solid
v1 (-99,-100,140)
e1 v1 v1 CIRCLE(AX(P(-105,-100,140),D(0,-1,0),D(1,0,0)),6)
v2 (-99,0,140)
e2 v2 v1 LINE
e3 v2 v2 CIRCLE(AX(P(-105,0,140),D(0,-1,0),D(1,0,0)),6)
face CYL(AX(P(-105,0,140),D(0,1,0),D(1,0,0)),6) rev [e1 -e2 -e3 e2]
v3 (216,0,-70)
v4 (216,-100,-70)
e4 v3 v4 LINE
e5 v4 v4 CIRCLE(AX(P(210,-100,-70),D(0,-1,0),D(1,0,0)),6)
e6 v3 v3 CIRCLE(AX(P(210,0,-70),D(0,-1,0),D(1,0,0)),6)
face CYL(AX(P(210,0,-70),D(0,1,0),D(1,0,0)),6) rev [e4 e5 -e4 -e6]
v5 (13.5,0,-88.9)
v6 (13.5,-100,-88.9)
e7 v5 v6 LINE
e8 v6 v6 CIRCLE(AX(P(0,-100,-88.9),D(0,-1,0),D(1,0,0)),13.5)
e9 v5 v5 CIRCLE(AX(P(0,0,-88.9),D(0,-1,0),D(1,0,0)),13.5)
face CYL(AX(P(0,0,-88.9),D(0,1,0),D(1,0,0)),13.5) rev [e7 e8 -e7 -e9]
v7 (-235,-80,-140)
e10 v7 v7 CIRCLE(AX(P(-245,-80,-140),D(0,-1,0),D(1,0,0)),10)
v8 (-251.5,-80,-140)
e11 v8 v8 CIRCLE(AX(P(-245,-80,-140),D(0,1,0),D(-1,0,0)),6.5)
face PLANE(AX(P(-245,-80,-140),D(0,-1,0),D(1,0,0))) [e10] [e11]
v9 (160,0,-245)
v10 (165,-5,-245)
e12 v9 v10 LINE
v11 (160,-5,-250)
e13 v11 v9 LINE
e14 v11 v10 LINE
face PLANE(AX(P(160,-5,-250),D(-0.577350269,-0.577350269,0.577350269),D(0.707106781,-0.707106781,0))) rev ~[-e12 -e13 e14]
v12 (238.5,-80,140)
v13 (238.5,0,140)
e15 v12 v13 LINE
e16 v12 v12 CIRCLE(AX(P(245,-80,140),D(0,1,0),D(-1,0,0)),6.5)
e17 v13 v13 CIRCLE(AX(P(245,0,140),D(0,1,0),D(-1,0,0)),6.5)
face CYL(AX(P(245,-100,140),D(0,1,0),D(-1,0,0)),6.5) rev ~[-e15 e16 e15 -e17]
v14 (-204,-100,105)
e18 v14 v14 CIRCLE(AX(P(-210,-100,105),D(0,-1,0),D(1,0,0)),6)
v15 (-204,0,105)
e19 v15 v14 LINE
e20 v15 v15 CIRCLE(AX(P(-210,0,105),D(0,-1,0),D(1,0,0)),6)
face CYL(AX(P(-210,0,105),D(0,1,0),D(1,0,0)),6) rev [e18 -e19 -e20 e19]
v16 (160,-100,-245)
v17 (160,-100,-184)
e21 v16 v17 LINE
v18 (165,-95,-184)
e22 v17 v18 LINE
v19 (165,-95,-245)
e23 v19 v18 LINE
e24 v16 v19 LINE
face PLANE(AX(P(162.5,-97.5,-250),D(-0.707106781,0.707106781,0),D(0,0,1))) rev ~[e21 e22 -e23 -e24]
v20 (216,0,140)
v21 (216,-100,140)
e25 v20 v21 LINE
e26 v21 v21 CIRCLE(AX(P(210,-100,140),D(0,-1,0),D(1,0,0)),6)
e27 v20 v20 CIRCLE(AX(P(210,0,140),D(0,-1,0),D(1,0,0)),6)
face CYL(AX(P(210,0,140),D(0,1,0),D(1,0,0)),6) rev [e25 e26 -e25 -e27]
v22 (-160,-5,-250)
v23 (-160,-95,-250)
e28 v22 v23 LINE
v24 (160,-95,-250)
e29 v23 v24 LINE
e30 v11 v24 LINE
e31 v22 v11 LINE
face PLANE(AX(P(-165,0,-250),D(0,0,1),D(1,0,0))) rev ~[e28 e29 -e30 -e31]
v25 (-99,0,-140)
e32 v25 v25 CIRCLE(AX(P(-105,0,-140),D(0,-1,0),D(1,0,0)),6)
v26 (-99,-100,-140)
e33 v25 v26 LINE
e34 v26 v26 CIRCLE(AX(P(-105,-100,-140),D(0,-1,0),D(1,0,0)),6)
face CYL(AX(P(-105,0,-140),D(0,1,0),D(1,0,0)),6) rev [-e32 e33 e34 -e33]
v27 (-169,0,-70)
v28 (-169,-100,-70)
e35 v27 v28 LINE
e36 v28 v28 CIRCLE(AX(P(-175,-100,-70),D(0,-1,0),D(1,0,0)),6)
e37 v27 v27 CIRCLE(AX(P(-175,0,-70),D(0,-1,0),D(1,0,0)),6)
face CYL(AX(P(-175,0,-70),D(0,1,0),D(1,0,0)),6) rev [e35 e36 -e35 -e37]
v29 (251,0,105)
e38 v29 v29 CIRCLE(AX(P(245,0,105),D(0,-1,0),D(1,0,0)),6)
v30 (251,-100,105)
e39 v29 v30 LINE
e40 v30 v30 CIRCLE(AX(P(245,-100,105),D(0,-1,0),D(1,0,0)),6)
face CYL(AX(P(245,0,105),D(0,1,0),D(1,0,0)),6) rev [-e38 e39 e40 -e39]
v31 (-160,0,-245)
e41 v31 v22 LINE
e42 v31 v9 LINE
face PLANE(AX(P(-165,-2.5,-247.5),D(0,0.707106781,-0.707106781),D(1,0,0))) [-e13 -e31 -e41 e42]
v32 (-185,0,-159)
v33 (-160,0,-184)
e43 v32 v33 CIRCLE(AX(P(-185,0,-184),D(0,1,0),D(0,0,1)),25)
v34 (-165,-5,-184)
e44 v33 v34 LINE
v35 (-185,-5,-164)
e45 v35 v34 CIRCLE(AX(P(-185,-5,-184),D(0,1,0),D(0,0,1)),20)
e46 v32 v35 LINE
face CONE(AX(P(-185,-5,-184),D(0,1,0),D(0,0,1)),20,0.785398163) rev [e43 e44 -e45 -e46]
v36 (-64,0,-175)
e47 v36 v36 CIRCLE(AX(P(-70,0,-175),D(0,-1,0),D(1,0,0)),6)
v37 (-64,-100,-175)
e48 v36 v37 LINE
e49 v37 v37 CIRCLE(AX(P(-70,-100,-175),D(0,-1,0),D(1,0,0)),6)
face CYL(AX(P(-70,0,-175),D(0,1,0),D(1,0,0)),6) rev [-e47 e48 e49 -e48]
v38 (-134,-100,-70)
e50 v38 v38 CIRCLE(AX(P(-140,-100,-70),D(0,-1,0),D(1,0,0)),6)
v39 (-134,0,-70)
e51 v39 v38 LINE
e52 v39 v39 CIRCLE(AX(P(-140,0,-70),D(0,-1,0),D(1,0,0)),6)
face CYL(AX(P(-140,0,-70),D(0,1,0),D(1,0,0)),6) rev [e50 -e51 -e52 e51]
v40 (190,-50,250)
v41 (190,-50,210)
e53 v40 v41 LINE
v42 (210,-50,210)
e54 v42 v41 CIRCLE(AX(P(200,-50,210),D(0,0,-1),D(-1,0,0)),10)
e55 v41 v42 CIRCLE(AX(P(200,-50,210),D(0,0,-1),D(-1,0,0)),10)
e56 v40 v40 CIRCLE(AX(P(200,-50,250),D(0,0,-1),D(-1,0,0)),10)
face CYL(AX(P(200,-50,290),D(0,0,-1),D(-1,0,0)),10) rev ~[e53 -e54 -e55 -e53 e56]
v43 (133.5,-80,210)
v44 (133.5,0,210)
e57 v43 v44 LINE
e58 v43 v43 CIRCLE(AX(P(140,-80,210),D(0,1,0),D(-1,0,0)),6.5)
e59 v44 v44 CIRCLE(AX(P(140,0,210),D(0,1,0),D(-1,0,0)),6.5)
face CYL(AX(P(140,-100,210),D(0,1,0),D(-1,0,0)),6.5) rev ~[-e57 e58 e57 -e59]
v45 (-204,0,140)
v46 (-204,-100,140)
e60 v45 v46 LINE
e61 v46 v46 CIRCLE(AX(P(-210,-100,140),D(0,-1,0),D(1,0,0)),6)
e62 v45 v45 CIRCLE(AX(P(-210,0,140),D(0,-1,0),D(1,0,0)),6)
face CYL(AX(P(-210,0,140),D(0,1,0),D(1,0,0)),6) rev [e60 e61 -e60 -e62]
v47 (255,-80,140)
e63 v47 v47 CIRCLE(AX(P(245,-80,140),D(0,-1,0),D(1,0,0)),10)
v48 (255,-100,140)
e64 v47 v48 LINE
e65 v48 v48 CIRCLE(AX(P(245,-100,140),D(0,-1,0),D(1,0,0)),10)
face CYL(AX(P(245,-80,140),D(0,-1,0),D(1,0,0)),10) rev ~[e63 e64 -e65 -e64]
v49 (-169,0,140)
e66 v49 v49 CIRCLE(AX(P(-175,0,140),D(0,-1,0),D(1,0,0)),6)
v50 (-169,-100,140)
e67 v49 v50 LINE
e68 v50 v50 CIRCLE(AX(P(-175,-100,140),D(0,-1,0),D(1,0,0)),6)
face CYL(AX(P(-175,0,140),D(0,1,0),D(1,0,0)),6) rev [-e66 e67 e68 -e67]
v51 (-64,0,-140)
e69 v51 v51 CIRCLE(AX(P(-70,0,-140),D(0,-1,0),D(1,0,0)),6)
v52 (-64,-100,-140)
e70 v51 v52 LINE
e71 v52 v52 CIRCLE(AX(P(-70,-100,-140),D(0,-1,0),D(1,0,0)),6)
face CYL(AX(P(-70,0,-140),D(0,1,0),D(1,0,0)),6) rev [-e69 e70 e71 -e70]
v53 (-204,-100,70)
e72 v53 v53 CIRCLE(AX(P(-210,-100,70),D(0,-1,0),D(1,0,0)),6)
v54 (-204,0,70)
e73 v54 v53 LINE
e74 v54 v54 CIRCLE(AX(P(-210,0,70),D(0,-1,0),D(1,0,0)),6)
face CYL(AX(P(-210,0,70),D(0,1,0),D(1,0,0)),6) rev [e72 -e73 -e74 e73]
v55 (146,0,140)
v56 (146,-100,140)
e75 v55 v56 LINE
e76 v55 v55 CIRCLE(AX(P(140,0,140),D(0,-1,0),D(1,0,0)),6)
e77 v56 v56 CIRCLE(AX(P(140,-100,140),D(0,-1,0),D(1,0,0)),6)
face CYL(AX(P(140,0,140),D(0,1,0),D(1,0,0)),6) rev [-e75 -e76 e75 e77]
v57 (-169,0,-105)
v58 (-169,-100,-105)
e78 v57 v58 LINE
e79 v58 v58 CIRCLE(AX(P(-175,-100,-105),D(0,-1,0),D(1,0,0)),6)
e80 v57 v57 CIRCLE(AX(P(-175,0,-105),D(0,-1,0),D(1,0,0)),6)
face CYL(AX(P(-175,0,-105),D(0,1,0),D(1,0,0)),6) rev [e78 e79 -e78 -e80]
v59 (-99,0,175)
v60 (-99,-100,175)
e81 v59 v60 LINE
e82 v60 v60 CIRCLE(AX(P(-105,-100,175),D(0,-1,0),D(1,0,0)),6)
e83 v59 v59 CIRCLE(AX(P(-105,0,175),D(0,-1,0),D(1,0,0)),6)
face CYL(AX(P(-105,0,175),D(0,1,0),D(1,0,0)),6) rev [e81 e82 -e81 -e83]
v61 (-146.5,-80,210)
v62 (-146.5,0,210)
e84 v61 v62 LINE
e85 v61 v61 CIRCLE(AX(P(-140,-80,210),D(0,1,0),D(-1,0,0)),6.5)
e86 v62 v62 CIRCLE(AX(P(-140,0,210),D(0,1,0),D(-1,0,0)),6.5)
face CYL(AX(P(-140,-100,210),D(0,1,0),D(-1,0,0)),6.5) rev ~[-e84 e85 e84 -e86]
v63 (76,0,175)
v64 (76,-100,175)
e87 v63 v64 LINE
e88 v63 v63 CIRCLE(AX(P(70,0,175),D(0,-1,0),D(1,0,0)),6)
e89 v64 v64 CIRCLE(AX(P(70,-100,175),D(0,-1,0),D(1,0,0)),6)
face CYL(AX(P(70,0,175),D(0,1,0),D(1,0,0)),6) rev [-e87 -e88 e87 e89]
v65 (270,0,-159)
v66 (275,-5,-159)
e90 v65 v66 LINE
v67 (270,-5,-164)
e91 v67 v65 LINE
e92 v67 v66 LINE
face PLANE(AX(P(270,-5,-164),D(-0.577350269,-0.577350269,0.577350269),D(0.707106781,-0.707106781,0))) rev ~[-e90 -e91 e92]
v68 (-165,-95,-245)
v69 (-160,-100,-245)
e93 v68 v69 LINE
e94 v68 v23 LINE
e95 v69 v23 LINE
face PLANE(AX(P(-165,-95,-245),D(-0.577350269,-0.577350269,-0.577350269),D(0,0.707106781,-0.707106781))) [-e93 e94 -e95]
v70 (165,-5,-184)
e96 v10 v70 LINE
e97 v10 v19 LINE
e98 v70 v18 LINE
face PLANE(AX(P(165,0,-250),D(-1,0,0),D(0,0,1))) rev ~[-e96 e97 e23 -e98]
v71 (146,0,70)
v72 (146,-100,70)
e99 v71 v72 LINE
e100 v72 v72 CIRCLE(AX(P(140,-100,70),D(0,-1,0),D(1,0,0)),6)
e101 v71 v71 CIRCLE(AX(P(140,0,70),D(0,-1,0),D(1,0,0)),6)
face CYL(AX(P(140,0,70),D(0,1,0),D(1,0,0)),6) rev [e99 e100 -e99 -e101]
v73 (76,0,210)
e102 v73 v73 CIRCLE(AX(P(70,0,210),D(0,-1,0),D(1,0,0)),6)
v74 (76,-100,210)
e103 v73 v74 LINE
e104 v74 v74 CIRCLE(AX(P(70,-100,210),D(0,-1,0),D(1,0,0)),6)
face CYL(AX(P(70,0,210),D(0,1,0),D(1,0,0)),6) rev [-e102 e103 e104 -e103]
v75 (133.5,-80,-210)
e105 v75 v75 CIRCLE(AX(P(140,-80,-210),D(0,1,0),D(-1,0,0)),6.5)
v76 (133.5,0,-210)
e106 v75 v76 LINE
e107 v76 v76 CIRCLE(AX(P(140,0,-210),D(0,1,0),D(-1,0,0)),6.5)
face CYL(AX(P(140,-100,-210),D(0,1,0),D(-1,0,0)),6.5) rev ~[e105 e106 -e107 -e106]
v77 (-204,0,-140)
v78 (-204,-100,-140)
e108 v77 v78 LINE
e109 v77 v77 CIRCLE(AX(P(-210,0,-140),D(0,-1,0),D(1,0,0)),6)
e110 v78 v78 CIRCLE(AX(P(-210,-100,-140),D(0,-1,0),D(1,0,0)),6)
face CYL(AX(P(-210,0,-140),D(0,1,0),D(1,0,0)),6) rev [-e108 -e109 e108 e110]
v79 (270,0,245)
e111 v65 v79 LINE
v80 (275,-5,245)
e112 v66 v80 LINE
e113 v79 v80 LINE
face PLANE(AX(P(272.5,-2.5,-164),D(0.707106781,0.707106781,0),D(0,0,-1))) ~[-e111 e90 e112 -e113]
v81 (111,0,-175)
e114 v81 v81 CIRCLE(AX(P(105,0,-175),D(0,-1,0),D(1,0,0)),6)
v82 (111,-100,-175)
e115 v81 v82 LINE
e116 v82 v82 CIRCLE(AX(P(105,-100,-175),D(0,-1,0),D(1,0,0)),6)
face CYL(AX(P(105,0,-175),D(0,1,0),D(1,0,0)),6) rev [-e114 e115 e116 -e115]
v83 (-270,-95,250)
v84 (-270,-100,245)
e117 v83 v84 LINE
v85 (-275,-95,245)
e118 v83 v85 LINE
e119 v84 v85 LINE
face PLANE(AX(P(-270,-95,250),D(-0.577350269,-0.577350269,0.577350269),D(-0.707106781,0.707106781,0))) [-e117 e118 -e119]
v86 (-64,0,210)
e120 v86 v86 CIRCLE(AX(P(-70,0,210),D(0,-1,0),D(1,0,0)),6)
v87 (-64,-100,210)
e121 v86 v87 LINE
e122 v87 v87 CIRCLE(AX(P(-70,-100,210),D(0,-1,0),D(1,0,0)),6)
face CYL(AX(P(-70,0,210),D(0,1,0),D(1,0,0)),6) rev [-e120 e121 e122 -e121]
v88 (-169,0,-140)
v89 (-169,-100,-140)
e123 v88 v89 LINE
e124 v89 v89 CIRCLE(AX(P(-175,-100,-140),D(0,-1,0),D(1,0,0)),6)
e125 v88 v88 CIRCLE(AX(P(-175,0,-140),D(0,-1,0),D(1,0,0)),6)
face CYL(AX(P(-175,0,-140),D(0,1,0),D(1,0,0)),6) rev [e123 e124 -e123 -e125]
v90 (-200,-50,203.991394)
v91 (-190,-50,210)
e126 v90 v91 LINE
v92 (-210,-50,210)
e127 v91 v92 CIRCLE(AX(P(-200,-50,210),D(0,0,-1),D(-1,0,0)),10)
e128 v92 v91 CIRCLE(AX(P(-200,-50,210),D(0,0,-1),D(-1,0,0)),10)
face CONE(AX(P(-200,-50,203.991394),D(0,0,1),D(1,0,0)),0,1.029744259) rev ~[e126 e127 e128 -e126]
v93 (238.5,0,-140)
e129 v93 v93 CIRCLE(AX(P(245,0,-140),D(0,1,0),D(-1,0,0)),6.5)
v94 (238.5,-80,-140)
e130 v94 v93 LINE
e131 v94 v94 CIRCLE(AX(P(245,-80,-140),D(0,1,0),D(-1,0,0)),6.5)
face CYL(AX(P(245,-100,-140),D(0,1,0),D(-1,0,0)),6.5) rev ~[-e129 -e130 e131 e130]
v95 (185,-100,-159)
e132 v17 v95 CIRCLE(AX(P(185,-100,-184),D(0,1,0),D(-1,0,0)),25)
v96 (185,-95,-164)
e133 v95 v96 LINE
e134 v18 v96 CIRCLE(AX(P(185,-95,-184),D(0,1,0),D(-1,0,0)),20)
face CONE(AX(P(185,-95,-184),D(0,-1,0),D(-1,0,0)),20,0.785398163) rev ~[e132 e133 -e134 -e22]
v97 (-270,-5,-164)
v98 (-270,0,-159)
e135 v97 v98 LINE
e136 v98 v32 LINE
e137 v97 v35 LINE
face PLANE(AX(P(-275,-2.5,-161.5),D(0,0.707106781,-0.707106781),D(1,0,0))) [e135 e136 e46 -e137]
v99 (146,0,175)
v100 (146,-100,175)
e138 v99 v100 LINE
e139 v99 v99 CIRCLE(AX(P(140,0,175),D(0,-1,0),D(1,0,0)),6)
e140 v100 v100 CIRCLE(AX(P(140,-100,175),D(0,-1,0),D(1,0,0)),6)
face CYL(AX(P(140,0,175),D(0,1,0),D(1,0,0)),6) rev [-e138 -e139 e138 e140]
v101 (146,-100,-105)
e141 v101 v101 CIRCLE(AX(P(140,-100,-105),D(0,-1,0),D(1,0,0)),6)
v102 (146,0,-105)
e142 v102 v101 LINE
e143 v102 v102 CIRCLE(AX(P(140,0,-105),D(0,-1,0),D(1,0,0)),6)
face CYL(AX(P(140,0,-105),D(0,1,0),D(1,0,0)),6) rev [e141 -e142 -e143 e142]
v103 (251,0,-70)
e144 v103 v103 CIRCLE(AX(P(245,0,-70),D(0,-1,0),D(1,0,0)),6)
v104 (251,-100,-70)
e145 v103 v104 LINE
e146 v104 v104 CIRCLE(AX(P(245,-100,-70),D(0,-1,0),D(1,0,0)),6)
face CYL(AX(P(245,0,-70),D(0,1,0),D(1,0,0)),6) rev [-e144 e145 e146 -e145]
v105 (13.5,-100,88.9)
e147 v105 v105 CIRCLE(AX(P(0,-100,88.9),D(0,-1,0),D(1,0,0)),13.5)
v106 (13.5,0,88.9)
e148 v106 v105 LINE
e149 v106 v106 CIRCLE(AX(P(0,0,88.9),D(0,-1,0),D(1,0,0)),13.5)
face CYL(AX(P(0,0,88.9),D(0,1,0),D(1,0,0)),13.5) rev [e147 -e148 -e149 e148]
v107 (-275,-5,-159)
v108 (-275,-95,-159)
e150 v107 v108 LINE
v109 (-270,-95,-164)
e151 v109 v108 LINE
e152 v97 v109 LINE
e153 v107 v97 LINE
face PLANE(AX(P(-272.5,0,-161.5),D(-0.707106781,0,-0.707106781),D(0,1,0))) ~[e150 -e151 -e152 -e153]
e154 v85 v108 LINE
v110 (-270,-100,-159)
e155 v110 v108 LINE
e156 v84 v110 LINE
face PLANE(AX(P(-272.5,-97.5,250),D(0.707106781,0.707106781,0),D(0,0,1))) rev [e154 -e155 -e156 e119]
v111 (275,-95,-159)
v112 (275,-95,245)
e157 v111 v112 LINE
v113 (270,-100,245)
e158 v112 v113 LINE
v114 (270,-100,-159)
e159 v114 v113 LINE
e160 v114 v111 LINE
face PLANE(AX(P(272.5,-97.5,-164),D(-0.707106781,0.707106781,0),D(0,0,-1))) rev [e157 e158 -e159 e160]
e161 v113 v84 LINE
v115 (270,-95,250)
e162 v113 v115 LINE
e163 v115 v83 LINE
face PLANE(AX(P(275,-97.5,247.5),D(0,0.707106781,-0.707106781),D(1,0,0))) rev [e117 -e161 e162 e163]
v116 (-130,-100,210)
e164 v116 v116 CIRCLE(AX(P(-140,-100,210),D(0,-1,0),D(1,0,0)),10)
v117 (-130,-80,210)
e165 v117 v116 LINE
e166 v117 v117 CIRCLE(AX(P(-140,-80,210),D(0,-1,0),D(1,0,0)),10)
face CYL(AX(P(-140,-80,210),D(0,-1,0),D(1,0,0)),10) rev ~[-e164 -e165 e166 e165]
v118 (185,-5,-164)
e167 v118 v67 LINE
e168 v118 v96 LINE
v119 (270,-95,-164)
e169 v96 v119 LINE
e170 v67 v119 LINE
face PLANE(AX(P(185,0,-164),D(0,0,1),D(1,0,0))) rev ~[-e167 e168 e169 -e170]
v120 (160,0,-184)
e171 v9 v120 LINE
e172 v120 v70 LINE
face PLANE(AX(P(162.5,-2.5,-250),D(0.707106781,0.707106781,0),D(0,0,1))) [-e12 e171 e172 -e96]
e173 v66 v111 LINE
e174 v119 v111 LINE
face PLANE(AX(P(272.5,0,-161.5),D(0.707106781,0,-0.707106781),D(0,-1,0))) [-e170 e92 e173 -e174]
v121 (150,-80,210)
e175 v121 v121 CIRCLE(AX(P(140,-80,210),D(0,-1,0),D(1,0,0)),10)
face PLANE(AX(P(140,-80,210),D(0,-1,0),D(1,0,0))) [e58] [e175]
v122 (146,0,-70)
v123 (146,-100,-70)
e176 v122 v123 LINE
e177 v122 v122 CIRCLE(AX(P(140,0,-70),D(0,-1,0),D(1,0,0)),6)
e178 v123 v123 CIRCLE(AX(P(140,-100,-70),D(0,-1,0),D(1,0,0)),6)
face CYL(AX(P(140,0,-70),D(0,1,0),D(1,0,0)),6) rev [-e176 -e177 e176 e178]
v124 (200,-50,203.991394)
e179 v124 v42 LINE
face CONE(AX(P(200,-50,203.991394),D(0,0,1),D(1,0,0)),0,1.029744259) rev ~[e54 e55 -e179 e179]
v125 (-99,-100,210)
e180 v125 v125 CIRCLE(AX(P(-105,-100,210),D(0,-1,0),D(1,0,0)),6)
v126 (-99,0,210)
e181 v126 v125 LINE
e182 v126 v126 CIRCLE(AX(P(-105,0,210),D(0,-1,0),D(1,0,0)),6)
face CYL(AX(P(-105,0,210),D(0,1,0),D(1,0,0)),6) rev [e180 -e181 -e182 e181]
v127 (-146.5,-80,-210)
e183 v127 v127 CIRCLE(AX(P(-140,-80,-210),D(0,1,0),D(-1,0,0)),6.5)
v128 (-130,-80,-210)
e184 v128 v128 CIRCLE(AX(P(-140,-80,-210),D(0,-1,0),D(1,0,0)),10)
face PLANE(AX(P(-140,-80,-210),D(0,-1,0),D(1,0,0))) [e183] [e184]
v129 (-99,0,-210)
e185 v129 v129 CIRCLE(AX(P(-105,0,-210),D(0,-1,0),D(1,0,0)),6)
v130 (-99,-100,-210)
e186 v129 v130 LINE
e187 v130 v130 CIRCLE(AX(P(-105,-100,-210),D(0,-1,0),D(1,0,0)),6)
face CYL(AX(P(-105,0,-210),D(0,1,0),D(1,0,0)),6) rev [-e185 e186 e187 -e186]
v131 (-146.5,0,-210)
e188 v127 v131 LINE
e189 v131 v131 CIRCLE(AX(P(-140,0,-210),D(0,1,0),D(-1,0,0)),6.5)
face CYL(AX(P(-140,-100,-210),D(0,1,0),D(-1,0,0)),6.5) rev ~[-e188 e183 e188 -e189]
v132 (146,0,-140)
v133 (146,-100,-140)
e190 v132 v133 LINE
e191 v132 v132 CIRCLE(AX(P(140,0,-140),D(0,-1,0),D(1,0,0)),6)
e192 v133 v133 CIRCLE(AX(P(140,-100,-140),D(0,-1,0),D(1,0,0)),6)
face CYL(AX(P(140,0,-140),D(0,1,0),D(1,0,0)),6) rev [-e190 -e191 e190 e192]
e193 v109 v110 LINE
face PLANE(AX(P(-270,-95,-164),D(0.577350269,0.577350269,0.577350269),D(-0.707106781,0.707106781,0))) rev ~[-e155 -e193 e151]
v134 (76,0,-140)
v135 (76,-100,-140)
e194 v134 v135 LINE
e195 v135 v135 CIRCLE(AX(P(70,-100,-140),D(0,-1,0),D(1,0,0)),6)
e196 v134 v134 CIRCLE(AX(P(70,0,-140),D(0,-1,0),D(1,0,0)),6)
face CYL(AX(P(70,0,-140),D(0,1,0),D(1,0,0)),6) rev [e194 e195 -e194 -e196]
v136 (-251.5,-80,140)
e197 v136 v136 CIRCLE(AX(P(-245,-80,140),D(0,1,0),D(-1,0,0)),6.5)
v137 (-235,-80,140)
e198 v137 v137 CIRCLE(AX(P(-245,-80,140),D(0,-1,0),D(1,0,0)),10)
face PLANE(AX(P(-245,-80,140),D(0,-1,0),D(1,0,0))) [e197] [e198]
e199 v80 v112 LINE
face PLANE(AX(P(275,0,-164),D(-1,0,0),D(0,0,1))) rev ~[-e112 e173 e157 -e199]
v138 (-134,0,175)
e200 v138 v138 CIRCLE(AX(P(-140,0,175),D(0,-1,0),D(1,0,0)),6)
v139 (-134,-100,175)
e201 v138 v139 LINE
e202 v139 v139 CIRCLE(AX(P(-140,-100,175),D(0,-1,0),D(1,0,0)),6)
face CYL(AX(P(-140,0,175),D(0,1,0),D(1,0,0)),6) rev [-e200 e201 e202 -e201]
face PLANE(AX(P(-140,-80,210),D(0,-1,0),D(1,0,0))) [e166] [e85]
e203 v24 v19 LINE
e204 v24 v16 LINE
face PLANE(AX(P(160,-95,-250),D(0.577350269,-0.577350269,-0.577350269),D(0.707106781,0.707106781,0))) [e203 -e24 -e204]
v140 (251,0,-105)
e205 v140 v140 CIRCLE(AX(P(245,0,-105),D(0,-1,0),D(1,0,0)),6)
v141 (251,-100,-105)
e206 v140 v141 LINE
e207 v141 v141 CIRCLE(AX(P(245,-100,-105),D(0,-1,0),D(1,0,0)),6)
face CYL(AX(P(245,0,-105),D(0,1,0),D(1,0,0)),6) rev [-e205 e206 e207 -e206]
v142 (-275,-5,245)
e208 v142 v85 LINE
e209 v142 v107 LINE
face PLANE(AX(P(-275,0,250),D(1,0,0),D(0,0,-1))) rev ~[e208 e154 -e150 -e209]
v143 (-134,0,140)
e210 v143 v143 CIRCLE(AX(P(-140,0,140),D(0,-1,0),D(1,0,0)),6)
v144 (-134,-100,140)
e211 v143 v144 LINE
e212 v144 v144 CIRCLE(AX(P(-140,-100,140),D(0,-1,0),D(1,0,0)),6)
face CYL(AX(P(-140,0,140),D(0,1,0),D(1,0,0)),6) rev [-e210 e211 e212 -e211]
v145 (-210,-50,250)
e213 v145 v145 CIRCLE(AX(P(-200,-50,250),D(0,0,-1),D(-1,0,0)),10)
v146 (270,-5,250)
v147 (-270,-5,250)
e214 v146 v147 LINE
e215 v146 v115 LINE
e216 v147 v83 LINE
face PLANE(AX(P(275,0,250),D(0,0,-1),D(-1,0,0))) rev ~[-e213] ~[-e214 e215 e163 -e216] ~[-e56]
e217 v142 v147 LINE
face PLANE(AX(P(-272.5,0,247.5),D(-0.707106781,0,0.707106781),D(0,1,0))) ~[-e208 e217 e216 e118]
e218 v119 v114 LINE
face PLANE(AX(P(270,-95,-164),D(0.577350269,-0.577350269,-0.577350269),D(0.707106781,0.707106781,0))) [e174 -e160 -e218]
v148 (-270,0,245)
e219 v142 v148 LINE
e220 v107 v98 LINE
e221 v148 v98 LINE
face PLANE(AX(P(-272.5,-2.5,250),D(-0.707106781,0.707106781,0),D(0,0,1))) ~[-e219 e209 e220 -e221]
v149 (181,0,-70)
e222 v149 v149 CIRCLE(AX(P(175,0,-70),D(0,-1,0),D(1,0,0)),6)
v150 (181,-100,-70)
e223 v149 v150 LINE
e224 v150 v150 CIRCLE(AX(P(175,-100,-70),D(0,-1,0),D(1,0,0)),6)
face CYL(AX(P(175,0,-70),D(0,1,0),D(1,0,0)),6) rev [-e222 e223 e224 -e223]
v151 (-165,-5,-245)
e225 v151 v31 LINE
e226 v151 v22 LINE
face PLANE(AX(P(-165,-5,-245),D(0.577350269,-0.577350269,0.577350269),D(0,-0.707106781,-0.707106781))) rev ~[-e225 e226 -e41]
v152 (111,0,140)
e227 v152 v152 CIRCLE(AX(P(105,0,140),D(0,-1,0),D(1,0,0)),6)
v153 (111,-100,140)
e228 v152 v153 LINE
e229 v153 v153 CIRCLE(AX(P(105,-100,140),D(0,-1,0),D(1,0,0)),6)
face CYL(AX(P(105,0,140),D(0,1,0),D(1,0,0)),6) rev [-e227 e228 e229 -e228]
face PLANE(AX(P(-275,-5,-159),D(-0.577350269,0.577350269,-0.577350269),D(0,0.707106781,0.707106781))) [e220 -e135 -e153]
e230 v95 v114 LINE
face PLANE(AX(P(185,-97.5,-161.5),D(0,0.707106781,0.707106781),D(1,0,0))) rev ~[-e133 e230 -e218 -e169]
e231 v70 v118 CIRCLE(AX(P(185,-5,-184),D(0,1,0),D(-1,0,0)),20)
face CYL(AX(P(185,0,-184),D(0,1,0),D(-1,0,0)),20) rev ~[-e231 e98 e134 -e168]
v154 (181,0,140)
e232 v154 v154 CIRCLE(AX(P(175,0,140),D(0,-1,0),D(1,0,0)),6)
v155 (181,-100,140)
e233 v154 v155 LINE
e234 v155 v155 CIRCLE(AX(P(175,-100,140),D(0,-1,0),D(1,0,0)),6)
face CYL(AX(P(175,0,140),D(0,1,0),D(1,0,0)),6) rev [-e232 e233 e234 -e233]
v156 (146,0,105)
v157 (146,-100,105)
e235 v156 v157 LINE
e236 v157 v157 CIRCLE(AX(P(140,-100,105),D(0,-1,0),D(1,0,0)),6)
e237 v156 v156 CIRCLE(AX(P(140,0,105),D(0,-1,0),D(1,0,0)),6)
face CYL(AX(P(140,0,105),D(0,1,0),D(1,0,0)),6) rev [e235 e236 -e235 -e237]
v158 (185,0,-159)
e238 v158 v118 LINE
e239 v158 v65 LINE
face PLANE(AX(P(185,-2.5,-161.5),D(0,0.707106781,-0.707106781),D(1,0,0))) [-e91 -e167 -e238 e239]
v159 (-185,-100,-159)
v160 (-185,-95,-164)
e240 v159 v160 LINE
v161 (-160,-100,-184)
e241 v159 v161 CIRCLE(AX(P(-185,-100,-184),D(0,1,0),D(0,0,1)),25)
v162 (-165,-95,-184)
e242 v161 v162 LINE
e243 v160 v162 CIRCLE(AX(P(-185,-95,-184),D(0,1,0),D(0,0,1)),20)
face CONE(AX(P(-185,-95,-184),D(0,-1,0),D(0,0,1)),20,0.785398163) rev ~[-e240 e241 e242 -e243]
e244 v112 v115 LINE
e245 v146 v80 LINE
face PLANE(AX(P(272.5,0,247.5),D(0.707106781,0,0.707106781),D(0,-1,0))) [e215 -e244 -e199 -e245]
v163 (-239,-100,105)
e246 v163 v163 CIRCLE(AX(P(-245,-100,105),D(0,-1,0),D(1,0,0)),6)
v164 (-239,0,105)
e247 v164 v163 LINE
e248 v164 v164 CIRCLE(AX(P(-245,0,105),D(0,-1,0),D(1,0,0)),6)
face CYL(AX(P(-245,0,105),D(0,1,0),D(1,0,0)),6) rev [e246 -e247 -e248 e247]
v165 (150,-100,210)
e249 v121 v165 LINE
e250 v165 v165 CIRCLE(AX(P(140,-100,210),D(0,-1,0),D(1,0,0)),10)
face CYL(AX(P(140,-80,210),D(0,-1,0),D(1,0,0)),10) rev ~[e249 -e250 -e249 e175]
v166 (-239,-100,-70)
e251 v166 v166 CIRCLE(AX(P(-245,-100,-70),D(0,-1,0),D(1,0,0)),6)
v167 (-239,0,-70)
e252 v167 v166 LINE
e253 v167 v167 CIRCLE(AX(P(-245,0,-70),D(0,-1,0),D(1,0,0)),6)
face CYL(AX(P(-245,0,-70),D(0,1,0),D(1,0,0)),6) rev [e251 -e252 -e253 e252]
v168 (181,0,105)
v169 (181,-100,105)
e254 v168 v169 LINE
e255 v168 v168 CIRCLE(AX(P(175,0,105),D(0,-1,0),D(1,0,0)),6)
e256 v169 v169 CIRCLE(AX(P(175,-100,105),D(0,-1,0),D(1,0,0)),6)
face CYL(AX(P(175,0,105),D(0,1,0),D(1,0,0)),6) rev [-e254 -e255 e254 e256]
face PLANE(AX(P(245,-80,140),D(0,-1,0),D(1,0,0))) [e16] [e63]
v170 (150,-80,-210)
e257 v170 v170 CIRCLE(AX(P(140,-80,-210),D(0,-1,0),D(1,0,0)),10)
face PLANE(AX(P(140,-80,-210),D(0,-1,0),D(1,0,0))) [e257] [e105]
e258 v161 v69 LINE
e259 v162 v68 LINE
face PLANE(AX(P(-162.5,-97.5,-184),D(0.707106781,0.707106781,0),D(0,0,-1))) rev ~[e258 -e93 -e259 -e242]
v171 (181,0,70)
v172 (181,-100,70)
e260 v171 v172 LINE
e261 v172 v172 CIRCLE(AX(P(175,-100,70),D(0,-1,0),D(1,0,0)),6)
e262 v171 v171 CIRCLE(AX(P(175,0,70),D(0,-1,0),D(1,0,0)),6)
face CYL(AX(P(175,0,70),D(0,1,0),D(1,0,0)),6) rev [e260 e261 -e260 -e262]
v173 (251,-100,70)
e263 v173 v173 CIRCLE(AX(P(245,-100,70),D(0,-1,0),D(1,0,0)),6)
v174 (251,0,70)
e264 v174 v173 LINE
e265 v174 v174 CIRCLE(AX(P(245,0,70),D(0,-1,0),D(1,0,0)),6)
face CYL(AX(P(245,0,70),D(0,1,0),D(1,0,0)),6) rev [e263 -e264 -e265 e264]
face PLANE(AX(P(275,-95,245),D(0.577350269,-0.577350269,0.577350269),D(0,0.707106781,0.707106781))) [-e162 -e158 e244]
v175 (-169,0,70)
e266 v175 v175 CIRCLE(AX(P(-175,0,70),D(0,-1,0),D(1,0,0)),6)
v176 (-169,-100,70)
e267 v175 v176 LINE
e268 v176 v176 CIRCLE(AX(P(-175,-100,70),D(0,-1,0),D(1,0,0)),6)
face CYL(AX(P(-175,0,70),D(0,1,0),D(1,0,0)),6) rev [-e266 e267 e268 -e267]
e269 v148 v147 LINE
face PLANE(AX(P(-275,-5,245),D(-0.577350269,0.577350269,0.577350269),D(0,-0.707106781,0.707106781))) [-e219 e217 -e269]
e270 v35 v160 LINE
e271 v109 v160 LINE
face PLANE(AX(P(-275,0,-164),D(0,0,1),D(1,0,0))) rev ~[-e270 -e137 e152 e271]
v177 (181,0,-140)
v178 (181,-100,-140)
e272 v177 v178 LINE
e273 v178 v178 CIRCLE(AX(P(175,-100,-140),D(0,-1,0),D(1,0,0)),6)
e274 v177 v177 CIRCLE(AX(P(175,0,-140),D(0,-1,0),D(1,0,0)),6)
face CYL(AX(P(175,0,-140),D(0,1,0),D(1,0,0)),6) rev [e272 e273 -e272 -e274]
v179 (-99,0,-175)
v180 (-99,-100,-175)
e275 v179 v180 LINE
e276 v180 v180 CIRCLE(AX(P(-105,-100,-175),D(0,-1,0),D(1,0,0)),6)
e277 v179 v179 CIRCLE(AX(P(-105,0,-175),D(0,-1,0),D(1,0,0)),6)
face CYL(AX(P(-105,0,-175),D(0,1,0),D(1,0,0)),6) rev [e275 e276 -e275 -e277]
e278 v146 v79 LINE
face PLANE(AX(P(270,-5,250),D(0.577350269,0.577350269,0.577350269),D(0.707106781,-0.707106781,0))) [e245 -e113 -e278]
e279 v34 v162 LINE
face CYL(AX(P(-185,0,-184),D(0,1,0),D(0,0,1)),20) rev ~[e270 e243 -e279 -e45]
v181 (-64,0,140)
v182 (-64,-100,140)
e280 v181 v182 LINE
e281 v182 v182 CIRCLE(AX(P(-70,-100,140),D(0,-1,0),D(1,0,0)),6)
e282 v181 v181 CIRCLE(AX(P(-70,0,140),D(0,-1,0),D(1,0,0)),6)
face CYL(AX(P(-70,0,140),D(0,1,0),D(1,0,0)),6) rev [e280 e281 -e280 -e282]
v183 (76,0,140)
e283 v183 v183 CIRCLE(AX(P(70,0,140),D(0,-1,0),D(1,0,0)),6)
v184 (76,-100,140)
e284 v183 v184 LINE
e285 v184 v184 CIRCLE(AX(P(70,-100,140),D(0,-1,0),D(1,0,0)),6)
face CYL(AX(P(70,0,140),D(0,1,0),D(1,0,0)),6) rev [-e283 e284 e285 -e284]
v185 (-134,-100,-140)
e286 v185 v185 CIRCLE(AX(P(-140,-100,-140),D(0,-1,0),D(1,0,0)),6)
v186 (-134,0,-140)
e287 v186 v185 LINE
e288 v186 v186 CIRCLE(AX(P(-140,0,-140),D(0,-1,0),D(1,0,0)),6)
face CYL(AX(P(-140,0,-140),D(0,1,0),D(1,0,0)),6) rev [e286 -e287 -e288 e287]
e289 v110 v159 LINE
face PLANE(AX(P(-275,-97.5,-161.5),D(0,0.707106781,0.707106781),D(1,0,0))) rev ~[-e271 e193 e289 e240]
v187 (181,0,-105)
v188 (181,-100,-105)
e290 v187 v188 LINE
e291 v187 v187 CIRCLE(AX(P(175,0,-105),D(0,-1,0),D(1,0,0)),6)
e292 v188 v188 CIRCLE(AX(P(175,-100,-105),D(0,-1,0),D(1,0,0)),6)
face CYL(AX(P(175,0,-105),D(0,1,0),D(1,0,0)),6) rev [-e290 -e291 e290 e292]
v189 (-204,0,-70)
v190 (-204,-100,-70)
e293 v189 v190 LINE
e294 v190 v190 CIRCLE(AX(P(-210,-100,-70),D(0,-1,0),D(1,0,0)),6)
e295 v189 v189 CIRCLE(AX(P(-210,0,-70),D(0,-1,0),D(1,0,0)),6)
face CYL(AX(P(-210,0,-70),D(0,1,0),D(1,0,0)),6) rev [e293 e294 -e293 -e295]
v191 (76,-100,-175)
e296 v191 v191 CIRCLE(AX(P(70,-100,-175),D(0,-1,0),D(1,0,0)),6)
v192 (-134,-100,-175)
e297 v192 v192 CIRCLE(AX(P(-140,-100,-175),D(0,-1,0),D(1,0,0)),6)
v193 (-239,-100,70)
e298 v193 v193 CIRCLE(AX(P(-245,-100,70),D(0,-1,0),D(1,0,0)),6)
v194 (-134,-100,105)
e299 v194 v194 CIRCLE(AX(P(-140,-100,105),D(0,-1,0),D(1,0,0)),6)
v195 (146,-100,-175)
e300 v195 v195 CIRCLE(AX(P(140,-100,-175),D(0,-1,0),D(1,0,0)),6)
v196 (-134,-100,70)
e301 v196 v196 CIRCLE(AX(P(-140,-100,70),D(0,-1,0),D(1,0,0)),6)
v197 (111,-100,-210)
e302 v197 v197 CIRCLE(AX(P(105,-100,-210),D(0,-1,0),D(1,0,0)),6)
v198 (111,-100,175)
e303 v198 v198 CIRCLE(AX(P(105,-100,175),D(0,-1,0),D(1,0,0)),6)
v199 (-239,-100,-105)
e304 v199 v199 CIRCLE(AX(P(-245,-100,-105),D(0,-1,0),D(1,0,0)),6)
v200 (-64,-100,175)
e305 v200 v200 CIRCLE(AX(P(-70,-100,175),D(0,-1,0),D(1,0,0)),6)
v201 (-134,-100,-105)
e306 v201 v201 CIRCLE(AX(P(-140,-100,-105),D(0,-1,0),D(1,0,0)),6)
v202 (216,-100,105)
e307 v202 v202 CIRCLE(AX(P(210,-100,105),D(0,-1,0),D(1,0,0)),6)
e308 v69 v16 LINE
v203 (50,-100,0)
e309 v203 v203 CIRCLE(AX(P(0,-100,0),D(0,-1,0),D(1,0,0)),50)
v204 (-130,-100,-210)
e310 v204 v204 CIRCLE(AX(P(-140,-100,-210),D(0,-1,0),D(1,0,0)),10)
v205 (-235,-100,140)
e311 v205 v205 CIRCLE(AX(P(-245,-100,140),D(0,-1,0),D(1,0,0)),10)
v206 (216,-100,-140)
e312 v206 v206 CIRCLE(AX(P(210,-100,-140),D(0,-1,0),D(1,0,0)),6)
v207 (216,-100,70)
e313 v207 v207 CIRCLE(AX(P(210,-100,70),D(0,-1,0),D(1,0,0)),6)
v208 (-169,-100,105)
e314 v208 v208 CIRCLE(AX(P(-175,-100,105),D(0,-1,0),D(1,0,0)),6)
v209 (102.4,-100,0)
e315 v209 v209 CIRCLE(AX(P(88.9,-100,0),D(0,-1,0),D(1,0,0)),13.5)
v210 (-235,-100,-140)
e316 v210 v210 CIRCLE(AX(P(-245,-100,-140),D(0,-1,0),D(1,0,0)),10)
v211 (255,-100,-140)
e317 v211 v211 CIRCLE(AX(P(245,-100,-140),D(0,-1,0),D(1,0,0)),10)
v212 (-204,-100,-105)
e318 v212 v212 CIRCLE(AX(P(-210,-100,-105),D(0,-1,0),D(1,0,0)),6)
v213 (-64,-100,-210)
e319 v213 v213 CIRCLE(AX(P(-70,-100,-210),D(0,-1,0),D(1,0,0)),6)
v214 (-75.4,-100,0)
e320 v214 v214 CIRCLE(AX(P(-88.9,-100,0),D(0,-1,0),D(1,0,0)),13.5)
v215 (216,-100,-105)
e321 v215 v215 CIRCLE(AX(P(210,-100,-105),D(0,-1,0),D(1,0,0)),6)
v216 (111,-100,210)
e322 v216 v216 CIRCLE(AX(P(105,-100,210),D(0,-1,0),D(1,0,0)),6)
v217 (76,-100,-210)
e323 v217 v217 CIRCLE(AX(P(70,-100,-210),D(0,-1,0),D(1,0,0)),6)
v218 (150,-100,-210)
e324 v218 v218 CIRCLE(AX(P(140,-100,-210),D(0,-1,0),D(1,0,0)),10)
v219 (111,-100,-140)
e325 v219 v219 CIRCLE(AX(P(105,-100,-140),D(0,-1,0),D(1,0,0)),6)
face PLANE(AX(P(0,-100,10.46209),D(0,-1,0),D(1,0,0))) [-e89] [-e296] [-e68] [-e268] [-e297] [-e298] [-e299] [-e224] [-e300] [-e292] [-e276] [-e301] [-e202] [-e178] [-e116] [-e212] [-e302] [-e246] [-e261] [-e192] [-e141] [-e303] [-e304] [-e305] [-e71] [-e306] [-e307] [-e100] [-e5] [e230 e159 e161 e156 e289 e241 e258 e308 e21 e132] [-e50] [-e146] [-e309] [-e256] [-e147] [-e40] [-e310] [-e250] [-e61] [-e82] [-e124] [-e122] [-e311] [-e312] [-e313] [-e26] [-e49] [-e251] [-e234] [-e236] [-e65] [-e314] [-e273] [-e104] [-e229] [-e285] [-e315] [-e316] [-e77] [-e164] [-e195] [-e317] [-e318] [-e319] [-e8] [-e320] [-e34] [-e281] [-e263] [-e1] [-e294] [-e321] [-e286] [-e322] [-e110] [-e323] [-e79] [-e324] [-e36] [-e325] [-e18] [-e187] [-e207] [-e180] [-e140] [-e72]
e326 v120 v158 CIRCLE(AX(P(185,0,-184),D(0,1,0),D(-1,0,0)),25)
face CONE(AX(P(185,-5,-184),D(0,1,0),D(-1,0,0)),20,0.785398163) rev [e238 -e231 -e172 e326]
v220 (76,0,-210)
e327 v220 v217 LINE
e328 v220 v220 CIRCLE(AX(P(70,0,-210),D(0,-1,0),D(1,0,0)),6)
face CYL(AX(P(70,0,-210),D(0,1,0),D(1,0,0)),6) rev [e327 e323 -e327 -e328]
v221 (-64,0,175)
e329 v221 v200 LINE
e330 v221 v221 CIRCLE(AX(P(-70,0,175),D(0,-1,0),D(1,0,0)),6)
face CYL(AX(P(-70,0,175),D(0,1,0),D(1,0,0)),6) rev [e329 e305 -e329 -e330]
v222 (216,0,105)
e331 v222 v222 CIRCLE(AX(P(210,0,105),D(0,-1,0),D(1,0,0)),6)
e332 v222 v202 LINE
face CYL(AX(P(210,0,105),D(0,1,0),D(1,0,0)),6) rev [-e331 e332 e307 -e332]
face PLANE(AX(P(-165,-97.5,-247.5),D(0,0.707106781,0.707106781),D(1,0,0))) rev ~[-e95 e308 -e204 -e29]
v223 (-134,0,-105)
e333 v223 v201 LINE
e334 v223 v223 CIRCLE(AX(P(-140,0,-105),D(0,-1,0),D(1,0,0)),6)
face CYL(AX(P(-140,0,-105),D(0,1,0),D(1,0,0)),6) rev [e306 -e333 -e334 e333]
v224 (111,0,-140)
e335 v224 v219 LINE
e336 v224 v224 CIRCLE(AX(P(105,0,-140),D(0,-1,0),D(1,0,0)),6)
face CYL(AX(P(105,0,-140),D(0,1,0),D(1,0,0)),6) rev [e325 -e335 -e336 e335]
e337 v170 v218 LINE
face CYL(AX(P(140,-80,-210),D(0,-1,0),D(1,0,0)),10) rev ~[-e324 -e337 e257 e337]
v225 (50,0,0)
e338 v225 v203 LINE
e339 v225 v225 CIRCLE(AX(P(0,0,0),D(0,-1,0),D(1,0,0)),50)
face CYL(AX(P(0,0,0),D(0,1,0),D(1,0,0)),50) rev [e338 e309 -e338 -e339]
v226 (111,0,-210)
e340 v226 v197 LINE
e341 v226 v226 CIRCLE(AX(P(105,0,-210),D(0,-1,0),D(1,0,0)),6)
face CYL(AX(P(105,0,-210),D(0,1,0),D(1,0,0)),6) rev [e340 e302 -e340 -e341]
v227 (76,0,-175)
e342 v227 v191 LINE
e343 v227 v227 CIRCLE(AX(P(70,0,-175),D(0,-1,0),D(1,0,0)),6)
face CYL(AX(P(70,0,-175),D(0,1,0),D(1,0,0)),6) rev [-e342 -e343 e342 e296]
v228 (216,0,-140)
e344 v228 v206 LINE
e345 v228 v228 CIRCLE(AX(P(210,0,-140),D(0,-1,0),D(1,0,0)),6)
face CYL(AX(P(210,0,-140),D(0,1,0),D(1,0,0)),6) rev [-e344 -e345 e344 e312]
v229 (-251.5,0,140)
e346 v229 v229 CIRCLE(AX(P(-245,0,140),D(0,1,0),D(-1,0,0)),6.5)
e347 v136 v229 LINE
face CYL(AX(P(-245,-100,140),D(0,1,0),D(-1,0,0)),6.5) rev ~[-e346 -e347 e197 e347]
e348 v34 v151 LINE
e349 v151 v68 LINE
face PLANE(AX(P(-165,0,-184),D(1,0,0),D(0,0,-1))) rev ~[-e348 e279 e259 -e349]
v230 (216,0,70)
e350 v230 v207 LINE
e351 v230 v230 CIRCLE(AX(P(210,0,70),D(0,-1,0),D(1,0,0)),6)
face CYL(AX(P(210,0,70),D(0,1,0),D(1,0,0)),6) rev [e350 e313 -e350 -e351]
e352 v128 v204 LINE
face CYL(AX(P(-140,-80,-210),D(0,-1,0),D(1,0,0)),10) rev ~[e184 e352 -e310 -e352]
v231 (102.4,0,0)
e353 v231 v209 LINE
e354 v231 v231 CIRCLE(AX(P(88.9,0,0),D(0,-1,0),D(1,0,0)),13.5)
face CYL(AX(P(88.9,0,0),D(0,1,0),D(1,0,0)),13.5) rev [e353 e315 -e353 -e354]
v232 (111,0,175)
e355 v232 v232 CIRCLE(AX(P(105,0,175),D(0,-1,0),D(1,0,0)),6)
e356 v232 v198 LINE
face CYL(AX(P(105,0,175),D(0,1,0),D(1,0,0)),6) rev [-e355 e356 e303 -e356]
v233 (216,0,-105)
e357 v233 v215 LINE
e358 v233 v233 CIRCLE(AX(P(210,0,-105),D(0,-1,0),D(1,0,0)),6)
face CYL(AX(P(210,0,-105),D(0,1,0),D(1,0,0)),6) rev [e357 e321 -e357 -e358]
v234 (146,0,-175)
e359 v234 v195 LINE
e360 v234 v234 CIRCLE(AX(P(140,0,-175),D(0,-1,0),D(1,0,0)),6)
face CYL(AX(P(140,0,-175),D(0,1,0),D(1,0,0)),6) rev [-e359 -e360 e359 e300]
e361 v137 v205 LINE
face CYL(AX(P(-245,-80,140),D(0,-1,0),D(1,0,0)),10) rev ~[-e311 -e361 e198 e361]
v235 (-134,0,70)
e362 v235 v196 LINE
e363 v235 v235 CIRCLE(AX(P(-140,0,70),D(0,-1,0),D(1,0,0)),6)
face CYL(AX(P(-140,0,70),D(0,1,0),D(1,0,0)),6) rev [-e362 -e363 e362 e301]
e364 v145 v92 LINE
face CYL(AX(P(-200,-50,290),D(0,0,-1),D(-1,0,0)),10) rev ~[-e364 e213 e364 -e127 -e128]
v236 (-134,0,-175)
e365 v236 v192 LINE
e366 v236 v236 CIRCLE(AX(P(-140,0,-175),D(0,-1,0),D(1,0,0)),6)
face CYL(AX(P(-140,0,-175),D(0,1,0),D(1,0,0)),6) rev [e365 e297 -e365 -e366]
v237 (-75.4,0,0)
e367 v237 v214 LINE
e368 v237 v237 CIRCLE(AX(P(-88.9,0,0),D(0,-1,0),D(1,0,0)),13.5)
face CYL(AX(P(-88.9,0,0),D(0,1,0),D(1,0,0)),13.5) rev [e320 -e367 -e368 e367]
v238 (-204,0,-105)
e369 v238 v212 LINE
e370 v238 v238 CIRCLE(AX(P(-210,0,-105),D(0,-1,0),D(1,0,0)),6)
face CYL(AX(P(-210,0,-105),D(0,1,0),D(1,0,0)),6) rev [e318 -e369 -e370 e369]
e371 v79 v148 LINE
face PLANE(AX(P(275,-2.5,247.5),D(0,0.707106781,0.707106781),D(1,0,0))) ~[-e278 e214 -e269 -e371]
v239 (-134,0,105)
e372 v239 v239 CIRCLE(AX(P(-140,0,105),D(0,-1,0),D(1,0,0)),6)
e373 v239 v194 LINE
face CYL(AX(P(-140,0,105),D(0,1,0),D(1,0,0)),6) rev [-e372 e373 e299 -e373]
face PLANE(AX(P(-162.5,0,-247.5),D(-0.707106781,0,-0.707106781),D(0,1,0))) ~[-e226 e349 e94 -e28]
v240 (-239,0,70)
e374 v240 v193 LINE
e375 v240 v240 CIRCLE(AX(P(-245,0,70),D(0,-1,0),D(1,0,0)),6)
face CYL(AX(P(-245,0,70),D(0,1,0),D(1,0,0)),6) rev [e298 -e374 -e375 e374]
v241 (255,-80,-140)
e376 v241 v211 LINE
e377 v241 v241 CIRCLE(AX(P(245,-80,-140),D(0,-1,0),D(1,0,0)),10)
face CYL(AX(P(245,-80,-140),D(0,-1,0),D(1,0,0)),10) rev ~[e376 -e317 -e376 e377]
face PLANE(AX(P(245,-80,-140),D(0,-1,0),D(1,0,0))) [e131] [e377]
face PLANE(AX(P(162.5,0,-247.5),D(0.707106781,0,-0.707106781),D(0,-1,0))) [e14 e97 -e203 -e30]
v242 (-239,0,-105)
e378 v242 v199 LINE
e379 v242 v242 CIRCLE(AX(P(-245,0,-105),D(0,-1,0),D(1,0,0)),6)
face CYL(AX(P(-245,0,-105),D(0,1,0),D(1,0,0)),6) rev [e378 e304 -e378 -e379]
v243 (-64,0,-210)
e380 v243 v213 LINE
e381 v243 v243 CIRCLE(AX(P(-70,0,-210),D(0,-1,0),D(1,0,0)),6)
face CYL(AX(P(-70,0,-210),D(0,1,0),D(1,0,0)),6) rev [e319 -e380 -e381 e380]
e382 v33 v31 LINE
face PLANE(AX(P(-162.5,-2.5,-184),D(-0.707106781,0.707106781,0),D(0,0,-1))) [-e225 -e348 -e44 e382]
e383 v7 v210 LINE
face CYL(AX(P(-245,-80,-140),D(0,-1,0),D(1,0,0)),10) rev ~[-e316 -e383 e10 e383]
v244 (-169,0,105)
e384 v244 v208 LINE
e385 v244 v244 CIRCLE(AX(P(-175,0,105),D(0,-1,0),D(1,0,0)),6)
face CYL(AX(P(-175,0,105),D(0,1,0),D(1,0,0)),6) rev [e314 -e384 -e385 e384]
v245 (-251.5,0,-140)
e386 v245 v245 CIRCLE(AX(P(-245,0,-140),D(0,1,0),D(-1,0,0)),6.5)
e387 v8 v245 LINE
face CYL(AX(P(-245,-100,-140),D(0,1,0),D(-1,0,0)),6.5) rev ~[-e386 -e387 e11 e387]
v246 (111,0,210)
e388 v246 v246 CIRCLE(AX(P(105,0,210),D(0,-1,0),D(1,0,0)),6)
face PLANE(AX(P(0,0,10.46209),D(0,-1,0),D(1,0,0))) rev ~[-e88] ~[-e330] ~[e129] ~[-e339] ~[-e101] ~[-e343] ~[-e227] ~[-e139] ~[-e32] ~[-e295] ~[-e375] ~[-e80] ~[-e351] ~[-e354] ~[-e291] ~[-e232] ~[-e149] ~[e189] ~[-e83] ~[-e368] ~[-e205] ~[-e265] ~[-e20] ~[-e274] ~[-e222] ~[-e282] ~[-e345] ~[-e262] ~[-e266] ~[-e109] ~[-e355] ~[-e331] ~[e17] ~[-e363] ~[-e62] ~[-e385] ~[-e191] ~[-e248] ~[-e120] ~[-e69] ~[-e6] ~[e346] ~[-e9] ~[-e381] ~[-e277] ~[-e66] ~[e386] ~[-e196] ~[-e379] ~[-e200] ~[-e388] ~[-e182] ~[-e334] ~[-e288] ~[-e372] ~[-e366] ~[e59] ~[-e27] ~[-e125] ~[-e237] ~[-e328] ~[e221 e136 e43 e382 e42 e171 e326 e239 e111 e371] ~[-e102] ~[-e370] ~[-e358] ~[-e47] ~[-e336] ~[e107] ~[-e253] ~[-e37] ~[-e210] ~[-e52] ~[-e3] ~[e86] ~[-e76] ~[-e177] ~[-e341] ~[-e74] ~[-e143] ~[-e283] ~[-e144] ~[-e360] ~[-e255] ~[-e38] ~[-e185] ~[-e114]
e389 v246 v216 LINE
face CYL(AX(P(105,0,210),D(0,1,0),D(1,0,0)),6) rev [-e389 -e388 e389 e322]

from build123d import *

# Parameters (mm, degrees)
F0_R           = 6
F0_R_2         = 13.5
F0_R_3         = 50
F1_DEPTH       = 100
F3_D           = 13
F3_CBORE_D     = 20
F3_CBORE_DEPTH = 20
F4_SIZE        = 5
F6_D           = 20
F6_DEPTH       = 40
F6_TIP         = 6.0086061903


with BuildPart() as f1:
    # F0 (on Front) → F1 (new body)
    with BuildSketch(Plane.XZ):
        with BuildLine():
            Line((275, 250), (-275, 250))
            Line((-275, 250), (-275, -164))
            Line((-275, -164), (-185, -164))
            ThreePointArc((-185, -164), (-170.8578643763, -169.8578643763), (-165, -184))
            Line((-165, -184), (-165, -250))
            Line((-165, -250), (165, -250))
            Line((165, -250), (165, -184))
            ThreePointArc((165, -184), (170.8578643763, -169.8578643763), (185, -164))
            Line((185, -164), (275, -164))
            Line((275, -164), (275, 250))
        make_face()
        with Locations((-140, -210)):
            Circle(F0_R, mode=Mode.SUBTRACT)
        with Locations((-245, -140)):
            Circle(F0_R, mode=Mode.SUBTRACT)
        with Locations((-210, -140)):
            Circle(F0_R, mode=Mode.SUBTRACT)
        with Locations((-140, -175)):
            Circle(F0_R, mode=Mode.SUBTRACT)
        with Locations((-175, -140)):
            Circle(F0_R, mode=Mode.SUBTRACT)
        with Locations((-140, -140)):
            Circle(F0_R, mode=Mode.SUBTRACT)
        with Locations((-105, -210)):
            Circle(F0_R, mode=Mode.SUBTRACT)
        with Locations((-70, -210)):
            Circle(F0_R, mode=Mode.SUBTRACT)
        with Locations((-105, -175)):
            Circle(F0_R, mode=Mode.SUBTRACT)
        with Locations((-70, -175)):
            Circle(F0_R, mode=Mode.SUBTRACT)
        with Locations((-105, -140)):
            Circle(F0_R, mode=Mode.SUBTRACT)
        with Locations((-70, -140)):
            Circle(F0_R, mode=Mode.SUBTRACT)
        with Locations((-245, -105)):
            Circle(F0_R, mode=Mode.SUBTRACT)
        with Locations((-210, -105)):
            Circle(F0_R, mode=Mode.SUBTRACT)
        with Locations((-245, -70)):
            Circle(F0_R, mode=Mode.SUBTRACT)
        with Locations((-210, -70)):
            Circle(F0_R, mode=Mode.SUBTRACT)
        with Locations((-175, -105)):
            Circle(F0_R, mode=Mode.SUBTRACT)
        with Locations((-140, -105)):
            Circle(F0_R, mode=Mode.SUBTRACT)
        with Locations((-175, -70)):
            Circle(F0_R, mode=Mode.SUBTRACT)
        with Locations((-140, -70)):
            Circle(F0_R, mode=Mode.SUBTRACT)
        with Locations((70, -210)):
            Circle(F0_R, mode=Mode.SUBTRACT)
        with Locations((105, -210)):
            Circle(F0_R, mode=Mode.SUBTRACT)
        with Locations((70, -175)):
            Circle(F0_R, mode=Mode.SUBTRACT)
        with Locations((105, -175)):
            Circle(F0_R, mode=Mode.SUBTRACT)
        with Locations((70, -140)):
            Circle(F0_R, mode=Mode.SUBTRACT)
        with Locations((105, -140)):
            Circle(F0_R, mode=Mode.SUBTRACT)
        with Locations((140, -210)):
            Circle(F0_R, mode=Mode.SUBTRACT)
        with Locations((140, -175)):
            Circle(F0_R, mode=Mode.SUBTRACT)
        with Locations((140, -140)):
            Circle(F0_R, mode=Mode.SUBTRACT)
        with Locations((175, -140)):
            Circle(F0_R, mode=Mode.SUBTRACT)
        with Locations((210, -140)):
            Circle(F0_R, mode=Mode.SUBTRACT)
        with Locations((245, -140)):
            Circle(F0_R, mode=Mode.SUBTRACT)
        with Locations((0, -88.9)):
            Circle(F0_R_2, mode=Mode.SUBTRACT)
        with Locations((140, -105)):
            Circle(F0_R, mode=Mode.SUBTRACT)
        with Locations((175, -105)):
            Circle(F0_R, mode=Mode.SUBTRACT)
        with Locations((140, -70)):
            Circle(F0_R, mode=Mode.SUBTRACT)
        with Locations((175, -70)):
            Circle(F0_R, mode=Mode.SUBTRACT)
        with Locations((210, -105)):
            Circle(F0_R, mode=Mode.SUBTRACT)
        with Locations((245, -105)):
            Circle(F0_R, mode=Mode.SUBTRACT)
        with Locations((210, -70)):
            Circle(F0_R, mode=Mode.SUBTRACT)
        with Locations((245, -70)):
            Circle(F0_R, mode=Mode.SUBTRACT)
        with Locations((-245, 70)):
            Circle(F0_R, mode=Mode.SUBTRACT)
        with Locations((-210, 70)):
            Circle(F0_R, mode=Mode.SUBTRACT)
        with Locations((-245, 105)):
            Circle(F0_R, mode=Mode.SUBTRACT)
        with Locations((-210, 105)):
            Circle(F0_R, mode=Mode.SUBTRACT)
        with Locations((-175, 70)):
            Circle(F0_R, mode=Mode.SUBTRACT)
        with Locations((-140, 70)):
            Circle(F0_R, mode=Mode.SUBTRACT)
        with Locations((-175, 105)):
            Circle(F0_R, mode=Mode.SUBTRACT)
        with Locations((-140, 105)):
            Circle(F0_R, mode=Mode.SUBTRACT)
        with Locations((-88.9, 0)):
            Circle(F0_R_2, mode=Mode.SUBTRACT)
        with Locations((-245, 140)):
            Circle(F0_R, mode=Mode.SUBTRACT)
        with Locations((-210, 140)):
            Circle(F0_R, mode=Mode.SUBTRACT)
        with Locations((-175, 140)):
            Circle(F0_R, mode=Mode.SUBTRACT)
        with Locations((-140, 140)):
            Circle(F0_R, mode=Mode.SUBTRACT)
        with Locations((-140, 175)):
            Circle(F0_R, mode=Mode.SUBTRACT)
        with Locations((-140, 210)):
            Circle(F0_R, mode=Mode.SUBTRACT)
        with Locations((-105, 140)):
            Circle(F0_R, mode=Mode.SUBTRACT)
        with Locations((-70, 140)):
            Circle(F0_R, mode=Mode.SUBTRACT)
        with Locations((-105, 175)):
            Circle(F0_R, mode=Mode.SUBTRACT)
        with Locations((-70, 175)):
            Circle(F0_R, mode=Mode.SUBTRACT)
        with Locations((-105, 210)):
            Circle(F0_R, mode=Mode.SUBTRACT)
        with Locations((-70, 210)):
            Circle(F0_R, mode=Mode.SUBTRACT)
        Circle(F0_R_3, mode=Mode.SUBTRACT)
        with Locations((88.9, 0)):
            Circle(F0_R_2, mode=Mode.SUBTRACT)
        with Locations((0, 88.9)):
            Circle(F0_R_2, mode=Mode.SUBTRACT)
        with Locations((140, 70)):
            Circle(F0_R, mode=Mode.SUBTRACT)
        with Locations((175, 70)):
            Circle(F0_R, mode=Mode.SUBTRACT)
        with Locations((140, 105)):
            Circle(F0_R, mode=Mode.SUBTRACT)
        with Locations((175, 105)):
            Circle(F0_R, mode=Mode.SUBTRACT)
        with Locations((210, 70)):
            Circle(F0_R, mode=Mode.SUBTRACT)
        with Locations((245, 70)):
            Circle(F0_R, mode=Mode.SUBTRACT)
        with Locations((210, 105)):
            Circle(F0_R, mode=Mode.SUBTRACT)
        with Locations((245, 105)):
            Circle(F0_R, mode=Mode.SUBTRACT)
        with Locations((70, 140)):
            Circle(F0_R, mode=Mode.SUBTRACT)
        with Locations((105, 140)):
            Circle(F0_R, mode=Mode.SUBTRACT)
        with Locations((70, 175)):
            Circle(F0_R, mode=Mode.SUBTRACT)
        with Locations((105, 175)):
            Circle(F0_R, mode=Mode.SUBTRACT)
        with Locations((70, 210)):
            Circle(F0_R, mode=Mode.SUBTRACT)
        with Locations((105, 210)):
            Circle(F0_R, mode=Mode.SUBTRACT)
        with Locations((140, 140)):
            Circle(F0_R, mode=Mode.SUBTRACT)
        with Locations((175, 140)):
            Circle(F0_R, mode=Mode.SUBTRACT)
        with Locations((140, 175)):
            Circle(F0_R, mode=Mode.SUBTRACT)
        with Locations((210, 140)):
            Circle(F0_R, mode=Mode.SUBTRACT)
        with Locations((245, 140)):
            Circle(F0_R, mode=Mode.SUBTRACT)
        with Locations((140, 210)):
            Circle(F0_R, mode=Mode.SUBTRACT)
    extrude(amount=F1_DEPTH)

    # F3 (through all)
    with Locations(Plane.XZ.offset(100)):
        with Locations((-245, 140), (245, 140), (245, -140), (-245, -140), (-140, 210), (140, -210), (-140, -210), (140, 210)):
            CounterBoreHole(F3_D / 2, F3_CBORE_D / 2, F3_CBORE_DEPTH)

    # F4
    f4_edges = [f1.edges().sort_by_distance(p)[0] for p in [
        (-275, -100, 43),
        (0, -100, 250),
        (275, -100, 43),
        (230, -100, -164),
        (0, -100, -250),
        (-165, -100, -217),
        (275, 0, 43),
        (0, 0, 250),
        (275, -50, 250),
        (230, 0, -164),
        (0, 0, -250),
        (-170.857864, 0, -169.857864),
        (-275, -50, -164),
        (-275, 0, 43),
        (-165, -50, -250),
        (165, -50, -250),
        (275, -50, -164),
        (-275, -50, 250),
    ]]
    chamfer(f4_edges, length=F4_SIZE)

    # F6
    with Locations(Plane.XY.offset(250)):
        with Locations((-200, -50), (200, -50)):
            Hole(F6_D / 2, depth=F6_DEPTH)
            with Locations((0, 0, -(F6_DEPTH + F6_TIP / 2))):  # 118° drill point
                Cone(0, F6_D / 2, F6_TIP, mode=Mode.SUBTRACT)


solid = f1.part
